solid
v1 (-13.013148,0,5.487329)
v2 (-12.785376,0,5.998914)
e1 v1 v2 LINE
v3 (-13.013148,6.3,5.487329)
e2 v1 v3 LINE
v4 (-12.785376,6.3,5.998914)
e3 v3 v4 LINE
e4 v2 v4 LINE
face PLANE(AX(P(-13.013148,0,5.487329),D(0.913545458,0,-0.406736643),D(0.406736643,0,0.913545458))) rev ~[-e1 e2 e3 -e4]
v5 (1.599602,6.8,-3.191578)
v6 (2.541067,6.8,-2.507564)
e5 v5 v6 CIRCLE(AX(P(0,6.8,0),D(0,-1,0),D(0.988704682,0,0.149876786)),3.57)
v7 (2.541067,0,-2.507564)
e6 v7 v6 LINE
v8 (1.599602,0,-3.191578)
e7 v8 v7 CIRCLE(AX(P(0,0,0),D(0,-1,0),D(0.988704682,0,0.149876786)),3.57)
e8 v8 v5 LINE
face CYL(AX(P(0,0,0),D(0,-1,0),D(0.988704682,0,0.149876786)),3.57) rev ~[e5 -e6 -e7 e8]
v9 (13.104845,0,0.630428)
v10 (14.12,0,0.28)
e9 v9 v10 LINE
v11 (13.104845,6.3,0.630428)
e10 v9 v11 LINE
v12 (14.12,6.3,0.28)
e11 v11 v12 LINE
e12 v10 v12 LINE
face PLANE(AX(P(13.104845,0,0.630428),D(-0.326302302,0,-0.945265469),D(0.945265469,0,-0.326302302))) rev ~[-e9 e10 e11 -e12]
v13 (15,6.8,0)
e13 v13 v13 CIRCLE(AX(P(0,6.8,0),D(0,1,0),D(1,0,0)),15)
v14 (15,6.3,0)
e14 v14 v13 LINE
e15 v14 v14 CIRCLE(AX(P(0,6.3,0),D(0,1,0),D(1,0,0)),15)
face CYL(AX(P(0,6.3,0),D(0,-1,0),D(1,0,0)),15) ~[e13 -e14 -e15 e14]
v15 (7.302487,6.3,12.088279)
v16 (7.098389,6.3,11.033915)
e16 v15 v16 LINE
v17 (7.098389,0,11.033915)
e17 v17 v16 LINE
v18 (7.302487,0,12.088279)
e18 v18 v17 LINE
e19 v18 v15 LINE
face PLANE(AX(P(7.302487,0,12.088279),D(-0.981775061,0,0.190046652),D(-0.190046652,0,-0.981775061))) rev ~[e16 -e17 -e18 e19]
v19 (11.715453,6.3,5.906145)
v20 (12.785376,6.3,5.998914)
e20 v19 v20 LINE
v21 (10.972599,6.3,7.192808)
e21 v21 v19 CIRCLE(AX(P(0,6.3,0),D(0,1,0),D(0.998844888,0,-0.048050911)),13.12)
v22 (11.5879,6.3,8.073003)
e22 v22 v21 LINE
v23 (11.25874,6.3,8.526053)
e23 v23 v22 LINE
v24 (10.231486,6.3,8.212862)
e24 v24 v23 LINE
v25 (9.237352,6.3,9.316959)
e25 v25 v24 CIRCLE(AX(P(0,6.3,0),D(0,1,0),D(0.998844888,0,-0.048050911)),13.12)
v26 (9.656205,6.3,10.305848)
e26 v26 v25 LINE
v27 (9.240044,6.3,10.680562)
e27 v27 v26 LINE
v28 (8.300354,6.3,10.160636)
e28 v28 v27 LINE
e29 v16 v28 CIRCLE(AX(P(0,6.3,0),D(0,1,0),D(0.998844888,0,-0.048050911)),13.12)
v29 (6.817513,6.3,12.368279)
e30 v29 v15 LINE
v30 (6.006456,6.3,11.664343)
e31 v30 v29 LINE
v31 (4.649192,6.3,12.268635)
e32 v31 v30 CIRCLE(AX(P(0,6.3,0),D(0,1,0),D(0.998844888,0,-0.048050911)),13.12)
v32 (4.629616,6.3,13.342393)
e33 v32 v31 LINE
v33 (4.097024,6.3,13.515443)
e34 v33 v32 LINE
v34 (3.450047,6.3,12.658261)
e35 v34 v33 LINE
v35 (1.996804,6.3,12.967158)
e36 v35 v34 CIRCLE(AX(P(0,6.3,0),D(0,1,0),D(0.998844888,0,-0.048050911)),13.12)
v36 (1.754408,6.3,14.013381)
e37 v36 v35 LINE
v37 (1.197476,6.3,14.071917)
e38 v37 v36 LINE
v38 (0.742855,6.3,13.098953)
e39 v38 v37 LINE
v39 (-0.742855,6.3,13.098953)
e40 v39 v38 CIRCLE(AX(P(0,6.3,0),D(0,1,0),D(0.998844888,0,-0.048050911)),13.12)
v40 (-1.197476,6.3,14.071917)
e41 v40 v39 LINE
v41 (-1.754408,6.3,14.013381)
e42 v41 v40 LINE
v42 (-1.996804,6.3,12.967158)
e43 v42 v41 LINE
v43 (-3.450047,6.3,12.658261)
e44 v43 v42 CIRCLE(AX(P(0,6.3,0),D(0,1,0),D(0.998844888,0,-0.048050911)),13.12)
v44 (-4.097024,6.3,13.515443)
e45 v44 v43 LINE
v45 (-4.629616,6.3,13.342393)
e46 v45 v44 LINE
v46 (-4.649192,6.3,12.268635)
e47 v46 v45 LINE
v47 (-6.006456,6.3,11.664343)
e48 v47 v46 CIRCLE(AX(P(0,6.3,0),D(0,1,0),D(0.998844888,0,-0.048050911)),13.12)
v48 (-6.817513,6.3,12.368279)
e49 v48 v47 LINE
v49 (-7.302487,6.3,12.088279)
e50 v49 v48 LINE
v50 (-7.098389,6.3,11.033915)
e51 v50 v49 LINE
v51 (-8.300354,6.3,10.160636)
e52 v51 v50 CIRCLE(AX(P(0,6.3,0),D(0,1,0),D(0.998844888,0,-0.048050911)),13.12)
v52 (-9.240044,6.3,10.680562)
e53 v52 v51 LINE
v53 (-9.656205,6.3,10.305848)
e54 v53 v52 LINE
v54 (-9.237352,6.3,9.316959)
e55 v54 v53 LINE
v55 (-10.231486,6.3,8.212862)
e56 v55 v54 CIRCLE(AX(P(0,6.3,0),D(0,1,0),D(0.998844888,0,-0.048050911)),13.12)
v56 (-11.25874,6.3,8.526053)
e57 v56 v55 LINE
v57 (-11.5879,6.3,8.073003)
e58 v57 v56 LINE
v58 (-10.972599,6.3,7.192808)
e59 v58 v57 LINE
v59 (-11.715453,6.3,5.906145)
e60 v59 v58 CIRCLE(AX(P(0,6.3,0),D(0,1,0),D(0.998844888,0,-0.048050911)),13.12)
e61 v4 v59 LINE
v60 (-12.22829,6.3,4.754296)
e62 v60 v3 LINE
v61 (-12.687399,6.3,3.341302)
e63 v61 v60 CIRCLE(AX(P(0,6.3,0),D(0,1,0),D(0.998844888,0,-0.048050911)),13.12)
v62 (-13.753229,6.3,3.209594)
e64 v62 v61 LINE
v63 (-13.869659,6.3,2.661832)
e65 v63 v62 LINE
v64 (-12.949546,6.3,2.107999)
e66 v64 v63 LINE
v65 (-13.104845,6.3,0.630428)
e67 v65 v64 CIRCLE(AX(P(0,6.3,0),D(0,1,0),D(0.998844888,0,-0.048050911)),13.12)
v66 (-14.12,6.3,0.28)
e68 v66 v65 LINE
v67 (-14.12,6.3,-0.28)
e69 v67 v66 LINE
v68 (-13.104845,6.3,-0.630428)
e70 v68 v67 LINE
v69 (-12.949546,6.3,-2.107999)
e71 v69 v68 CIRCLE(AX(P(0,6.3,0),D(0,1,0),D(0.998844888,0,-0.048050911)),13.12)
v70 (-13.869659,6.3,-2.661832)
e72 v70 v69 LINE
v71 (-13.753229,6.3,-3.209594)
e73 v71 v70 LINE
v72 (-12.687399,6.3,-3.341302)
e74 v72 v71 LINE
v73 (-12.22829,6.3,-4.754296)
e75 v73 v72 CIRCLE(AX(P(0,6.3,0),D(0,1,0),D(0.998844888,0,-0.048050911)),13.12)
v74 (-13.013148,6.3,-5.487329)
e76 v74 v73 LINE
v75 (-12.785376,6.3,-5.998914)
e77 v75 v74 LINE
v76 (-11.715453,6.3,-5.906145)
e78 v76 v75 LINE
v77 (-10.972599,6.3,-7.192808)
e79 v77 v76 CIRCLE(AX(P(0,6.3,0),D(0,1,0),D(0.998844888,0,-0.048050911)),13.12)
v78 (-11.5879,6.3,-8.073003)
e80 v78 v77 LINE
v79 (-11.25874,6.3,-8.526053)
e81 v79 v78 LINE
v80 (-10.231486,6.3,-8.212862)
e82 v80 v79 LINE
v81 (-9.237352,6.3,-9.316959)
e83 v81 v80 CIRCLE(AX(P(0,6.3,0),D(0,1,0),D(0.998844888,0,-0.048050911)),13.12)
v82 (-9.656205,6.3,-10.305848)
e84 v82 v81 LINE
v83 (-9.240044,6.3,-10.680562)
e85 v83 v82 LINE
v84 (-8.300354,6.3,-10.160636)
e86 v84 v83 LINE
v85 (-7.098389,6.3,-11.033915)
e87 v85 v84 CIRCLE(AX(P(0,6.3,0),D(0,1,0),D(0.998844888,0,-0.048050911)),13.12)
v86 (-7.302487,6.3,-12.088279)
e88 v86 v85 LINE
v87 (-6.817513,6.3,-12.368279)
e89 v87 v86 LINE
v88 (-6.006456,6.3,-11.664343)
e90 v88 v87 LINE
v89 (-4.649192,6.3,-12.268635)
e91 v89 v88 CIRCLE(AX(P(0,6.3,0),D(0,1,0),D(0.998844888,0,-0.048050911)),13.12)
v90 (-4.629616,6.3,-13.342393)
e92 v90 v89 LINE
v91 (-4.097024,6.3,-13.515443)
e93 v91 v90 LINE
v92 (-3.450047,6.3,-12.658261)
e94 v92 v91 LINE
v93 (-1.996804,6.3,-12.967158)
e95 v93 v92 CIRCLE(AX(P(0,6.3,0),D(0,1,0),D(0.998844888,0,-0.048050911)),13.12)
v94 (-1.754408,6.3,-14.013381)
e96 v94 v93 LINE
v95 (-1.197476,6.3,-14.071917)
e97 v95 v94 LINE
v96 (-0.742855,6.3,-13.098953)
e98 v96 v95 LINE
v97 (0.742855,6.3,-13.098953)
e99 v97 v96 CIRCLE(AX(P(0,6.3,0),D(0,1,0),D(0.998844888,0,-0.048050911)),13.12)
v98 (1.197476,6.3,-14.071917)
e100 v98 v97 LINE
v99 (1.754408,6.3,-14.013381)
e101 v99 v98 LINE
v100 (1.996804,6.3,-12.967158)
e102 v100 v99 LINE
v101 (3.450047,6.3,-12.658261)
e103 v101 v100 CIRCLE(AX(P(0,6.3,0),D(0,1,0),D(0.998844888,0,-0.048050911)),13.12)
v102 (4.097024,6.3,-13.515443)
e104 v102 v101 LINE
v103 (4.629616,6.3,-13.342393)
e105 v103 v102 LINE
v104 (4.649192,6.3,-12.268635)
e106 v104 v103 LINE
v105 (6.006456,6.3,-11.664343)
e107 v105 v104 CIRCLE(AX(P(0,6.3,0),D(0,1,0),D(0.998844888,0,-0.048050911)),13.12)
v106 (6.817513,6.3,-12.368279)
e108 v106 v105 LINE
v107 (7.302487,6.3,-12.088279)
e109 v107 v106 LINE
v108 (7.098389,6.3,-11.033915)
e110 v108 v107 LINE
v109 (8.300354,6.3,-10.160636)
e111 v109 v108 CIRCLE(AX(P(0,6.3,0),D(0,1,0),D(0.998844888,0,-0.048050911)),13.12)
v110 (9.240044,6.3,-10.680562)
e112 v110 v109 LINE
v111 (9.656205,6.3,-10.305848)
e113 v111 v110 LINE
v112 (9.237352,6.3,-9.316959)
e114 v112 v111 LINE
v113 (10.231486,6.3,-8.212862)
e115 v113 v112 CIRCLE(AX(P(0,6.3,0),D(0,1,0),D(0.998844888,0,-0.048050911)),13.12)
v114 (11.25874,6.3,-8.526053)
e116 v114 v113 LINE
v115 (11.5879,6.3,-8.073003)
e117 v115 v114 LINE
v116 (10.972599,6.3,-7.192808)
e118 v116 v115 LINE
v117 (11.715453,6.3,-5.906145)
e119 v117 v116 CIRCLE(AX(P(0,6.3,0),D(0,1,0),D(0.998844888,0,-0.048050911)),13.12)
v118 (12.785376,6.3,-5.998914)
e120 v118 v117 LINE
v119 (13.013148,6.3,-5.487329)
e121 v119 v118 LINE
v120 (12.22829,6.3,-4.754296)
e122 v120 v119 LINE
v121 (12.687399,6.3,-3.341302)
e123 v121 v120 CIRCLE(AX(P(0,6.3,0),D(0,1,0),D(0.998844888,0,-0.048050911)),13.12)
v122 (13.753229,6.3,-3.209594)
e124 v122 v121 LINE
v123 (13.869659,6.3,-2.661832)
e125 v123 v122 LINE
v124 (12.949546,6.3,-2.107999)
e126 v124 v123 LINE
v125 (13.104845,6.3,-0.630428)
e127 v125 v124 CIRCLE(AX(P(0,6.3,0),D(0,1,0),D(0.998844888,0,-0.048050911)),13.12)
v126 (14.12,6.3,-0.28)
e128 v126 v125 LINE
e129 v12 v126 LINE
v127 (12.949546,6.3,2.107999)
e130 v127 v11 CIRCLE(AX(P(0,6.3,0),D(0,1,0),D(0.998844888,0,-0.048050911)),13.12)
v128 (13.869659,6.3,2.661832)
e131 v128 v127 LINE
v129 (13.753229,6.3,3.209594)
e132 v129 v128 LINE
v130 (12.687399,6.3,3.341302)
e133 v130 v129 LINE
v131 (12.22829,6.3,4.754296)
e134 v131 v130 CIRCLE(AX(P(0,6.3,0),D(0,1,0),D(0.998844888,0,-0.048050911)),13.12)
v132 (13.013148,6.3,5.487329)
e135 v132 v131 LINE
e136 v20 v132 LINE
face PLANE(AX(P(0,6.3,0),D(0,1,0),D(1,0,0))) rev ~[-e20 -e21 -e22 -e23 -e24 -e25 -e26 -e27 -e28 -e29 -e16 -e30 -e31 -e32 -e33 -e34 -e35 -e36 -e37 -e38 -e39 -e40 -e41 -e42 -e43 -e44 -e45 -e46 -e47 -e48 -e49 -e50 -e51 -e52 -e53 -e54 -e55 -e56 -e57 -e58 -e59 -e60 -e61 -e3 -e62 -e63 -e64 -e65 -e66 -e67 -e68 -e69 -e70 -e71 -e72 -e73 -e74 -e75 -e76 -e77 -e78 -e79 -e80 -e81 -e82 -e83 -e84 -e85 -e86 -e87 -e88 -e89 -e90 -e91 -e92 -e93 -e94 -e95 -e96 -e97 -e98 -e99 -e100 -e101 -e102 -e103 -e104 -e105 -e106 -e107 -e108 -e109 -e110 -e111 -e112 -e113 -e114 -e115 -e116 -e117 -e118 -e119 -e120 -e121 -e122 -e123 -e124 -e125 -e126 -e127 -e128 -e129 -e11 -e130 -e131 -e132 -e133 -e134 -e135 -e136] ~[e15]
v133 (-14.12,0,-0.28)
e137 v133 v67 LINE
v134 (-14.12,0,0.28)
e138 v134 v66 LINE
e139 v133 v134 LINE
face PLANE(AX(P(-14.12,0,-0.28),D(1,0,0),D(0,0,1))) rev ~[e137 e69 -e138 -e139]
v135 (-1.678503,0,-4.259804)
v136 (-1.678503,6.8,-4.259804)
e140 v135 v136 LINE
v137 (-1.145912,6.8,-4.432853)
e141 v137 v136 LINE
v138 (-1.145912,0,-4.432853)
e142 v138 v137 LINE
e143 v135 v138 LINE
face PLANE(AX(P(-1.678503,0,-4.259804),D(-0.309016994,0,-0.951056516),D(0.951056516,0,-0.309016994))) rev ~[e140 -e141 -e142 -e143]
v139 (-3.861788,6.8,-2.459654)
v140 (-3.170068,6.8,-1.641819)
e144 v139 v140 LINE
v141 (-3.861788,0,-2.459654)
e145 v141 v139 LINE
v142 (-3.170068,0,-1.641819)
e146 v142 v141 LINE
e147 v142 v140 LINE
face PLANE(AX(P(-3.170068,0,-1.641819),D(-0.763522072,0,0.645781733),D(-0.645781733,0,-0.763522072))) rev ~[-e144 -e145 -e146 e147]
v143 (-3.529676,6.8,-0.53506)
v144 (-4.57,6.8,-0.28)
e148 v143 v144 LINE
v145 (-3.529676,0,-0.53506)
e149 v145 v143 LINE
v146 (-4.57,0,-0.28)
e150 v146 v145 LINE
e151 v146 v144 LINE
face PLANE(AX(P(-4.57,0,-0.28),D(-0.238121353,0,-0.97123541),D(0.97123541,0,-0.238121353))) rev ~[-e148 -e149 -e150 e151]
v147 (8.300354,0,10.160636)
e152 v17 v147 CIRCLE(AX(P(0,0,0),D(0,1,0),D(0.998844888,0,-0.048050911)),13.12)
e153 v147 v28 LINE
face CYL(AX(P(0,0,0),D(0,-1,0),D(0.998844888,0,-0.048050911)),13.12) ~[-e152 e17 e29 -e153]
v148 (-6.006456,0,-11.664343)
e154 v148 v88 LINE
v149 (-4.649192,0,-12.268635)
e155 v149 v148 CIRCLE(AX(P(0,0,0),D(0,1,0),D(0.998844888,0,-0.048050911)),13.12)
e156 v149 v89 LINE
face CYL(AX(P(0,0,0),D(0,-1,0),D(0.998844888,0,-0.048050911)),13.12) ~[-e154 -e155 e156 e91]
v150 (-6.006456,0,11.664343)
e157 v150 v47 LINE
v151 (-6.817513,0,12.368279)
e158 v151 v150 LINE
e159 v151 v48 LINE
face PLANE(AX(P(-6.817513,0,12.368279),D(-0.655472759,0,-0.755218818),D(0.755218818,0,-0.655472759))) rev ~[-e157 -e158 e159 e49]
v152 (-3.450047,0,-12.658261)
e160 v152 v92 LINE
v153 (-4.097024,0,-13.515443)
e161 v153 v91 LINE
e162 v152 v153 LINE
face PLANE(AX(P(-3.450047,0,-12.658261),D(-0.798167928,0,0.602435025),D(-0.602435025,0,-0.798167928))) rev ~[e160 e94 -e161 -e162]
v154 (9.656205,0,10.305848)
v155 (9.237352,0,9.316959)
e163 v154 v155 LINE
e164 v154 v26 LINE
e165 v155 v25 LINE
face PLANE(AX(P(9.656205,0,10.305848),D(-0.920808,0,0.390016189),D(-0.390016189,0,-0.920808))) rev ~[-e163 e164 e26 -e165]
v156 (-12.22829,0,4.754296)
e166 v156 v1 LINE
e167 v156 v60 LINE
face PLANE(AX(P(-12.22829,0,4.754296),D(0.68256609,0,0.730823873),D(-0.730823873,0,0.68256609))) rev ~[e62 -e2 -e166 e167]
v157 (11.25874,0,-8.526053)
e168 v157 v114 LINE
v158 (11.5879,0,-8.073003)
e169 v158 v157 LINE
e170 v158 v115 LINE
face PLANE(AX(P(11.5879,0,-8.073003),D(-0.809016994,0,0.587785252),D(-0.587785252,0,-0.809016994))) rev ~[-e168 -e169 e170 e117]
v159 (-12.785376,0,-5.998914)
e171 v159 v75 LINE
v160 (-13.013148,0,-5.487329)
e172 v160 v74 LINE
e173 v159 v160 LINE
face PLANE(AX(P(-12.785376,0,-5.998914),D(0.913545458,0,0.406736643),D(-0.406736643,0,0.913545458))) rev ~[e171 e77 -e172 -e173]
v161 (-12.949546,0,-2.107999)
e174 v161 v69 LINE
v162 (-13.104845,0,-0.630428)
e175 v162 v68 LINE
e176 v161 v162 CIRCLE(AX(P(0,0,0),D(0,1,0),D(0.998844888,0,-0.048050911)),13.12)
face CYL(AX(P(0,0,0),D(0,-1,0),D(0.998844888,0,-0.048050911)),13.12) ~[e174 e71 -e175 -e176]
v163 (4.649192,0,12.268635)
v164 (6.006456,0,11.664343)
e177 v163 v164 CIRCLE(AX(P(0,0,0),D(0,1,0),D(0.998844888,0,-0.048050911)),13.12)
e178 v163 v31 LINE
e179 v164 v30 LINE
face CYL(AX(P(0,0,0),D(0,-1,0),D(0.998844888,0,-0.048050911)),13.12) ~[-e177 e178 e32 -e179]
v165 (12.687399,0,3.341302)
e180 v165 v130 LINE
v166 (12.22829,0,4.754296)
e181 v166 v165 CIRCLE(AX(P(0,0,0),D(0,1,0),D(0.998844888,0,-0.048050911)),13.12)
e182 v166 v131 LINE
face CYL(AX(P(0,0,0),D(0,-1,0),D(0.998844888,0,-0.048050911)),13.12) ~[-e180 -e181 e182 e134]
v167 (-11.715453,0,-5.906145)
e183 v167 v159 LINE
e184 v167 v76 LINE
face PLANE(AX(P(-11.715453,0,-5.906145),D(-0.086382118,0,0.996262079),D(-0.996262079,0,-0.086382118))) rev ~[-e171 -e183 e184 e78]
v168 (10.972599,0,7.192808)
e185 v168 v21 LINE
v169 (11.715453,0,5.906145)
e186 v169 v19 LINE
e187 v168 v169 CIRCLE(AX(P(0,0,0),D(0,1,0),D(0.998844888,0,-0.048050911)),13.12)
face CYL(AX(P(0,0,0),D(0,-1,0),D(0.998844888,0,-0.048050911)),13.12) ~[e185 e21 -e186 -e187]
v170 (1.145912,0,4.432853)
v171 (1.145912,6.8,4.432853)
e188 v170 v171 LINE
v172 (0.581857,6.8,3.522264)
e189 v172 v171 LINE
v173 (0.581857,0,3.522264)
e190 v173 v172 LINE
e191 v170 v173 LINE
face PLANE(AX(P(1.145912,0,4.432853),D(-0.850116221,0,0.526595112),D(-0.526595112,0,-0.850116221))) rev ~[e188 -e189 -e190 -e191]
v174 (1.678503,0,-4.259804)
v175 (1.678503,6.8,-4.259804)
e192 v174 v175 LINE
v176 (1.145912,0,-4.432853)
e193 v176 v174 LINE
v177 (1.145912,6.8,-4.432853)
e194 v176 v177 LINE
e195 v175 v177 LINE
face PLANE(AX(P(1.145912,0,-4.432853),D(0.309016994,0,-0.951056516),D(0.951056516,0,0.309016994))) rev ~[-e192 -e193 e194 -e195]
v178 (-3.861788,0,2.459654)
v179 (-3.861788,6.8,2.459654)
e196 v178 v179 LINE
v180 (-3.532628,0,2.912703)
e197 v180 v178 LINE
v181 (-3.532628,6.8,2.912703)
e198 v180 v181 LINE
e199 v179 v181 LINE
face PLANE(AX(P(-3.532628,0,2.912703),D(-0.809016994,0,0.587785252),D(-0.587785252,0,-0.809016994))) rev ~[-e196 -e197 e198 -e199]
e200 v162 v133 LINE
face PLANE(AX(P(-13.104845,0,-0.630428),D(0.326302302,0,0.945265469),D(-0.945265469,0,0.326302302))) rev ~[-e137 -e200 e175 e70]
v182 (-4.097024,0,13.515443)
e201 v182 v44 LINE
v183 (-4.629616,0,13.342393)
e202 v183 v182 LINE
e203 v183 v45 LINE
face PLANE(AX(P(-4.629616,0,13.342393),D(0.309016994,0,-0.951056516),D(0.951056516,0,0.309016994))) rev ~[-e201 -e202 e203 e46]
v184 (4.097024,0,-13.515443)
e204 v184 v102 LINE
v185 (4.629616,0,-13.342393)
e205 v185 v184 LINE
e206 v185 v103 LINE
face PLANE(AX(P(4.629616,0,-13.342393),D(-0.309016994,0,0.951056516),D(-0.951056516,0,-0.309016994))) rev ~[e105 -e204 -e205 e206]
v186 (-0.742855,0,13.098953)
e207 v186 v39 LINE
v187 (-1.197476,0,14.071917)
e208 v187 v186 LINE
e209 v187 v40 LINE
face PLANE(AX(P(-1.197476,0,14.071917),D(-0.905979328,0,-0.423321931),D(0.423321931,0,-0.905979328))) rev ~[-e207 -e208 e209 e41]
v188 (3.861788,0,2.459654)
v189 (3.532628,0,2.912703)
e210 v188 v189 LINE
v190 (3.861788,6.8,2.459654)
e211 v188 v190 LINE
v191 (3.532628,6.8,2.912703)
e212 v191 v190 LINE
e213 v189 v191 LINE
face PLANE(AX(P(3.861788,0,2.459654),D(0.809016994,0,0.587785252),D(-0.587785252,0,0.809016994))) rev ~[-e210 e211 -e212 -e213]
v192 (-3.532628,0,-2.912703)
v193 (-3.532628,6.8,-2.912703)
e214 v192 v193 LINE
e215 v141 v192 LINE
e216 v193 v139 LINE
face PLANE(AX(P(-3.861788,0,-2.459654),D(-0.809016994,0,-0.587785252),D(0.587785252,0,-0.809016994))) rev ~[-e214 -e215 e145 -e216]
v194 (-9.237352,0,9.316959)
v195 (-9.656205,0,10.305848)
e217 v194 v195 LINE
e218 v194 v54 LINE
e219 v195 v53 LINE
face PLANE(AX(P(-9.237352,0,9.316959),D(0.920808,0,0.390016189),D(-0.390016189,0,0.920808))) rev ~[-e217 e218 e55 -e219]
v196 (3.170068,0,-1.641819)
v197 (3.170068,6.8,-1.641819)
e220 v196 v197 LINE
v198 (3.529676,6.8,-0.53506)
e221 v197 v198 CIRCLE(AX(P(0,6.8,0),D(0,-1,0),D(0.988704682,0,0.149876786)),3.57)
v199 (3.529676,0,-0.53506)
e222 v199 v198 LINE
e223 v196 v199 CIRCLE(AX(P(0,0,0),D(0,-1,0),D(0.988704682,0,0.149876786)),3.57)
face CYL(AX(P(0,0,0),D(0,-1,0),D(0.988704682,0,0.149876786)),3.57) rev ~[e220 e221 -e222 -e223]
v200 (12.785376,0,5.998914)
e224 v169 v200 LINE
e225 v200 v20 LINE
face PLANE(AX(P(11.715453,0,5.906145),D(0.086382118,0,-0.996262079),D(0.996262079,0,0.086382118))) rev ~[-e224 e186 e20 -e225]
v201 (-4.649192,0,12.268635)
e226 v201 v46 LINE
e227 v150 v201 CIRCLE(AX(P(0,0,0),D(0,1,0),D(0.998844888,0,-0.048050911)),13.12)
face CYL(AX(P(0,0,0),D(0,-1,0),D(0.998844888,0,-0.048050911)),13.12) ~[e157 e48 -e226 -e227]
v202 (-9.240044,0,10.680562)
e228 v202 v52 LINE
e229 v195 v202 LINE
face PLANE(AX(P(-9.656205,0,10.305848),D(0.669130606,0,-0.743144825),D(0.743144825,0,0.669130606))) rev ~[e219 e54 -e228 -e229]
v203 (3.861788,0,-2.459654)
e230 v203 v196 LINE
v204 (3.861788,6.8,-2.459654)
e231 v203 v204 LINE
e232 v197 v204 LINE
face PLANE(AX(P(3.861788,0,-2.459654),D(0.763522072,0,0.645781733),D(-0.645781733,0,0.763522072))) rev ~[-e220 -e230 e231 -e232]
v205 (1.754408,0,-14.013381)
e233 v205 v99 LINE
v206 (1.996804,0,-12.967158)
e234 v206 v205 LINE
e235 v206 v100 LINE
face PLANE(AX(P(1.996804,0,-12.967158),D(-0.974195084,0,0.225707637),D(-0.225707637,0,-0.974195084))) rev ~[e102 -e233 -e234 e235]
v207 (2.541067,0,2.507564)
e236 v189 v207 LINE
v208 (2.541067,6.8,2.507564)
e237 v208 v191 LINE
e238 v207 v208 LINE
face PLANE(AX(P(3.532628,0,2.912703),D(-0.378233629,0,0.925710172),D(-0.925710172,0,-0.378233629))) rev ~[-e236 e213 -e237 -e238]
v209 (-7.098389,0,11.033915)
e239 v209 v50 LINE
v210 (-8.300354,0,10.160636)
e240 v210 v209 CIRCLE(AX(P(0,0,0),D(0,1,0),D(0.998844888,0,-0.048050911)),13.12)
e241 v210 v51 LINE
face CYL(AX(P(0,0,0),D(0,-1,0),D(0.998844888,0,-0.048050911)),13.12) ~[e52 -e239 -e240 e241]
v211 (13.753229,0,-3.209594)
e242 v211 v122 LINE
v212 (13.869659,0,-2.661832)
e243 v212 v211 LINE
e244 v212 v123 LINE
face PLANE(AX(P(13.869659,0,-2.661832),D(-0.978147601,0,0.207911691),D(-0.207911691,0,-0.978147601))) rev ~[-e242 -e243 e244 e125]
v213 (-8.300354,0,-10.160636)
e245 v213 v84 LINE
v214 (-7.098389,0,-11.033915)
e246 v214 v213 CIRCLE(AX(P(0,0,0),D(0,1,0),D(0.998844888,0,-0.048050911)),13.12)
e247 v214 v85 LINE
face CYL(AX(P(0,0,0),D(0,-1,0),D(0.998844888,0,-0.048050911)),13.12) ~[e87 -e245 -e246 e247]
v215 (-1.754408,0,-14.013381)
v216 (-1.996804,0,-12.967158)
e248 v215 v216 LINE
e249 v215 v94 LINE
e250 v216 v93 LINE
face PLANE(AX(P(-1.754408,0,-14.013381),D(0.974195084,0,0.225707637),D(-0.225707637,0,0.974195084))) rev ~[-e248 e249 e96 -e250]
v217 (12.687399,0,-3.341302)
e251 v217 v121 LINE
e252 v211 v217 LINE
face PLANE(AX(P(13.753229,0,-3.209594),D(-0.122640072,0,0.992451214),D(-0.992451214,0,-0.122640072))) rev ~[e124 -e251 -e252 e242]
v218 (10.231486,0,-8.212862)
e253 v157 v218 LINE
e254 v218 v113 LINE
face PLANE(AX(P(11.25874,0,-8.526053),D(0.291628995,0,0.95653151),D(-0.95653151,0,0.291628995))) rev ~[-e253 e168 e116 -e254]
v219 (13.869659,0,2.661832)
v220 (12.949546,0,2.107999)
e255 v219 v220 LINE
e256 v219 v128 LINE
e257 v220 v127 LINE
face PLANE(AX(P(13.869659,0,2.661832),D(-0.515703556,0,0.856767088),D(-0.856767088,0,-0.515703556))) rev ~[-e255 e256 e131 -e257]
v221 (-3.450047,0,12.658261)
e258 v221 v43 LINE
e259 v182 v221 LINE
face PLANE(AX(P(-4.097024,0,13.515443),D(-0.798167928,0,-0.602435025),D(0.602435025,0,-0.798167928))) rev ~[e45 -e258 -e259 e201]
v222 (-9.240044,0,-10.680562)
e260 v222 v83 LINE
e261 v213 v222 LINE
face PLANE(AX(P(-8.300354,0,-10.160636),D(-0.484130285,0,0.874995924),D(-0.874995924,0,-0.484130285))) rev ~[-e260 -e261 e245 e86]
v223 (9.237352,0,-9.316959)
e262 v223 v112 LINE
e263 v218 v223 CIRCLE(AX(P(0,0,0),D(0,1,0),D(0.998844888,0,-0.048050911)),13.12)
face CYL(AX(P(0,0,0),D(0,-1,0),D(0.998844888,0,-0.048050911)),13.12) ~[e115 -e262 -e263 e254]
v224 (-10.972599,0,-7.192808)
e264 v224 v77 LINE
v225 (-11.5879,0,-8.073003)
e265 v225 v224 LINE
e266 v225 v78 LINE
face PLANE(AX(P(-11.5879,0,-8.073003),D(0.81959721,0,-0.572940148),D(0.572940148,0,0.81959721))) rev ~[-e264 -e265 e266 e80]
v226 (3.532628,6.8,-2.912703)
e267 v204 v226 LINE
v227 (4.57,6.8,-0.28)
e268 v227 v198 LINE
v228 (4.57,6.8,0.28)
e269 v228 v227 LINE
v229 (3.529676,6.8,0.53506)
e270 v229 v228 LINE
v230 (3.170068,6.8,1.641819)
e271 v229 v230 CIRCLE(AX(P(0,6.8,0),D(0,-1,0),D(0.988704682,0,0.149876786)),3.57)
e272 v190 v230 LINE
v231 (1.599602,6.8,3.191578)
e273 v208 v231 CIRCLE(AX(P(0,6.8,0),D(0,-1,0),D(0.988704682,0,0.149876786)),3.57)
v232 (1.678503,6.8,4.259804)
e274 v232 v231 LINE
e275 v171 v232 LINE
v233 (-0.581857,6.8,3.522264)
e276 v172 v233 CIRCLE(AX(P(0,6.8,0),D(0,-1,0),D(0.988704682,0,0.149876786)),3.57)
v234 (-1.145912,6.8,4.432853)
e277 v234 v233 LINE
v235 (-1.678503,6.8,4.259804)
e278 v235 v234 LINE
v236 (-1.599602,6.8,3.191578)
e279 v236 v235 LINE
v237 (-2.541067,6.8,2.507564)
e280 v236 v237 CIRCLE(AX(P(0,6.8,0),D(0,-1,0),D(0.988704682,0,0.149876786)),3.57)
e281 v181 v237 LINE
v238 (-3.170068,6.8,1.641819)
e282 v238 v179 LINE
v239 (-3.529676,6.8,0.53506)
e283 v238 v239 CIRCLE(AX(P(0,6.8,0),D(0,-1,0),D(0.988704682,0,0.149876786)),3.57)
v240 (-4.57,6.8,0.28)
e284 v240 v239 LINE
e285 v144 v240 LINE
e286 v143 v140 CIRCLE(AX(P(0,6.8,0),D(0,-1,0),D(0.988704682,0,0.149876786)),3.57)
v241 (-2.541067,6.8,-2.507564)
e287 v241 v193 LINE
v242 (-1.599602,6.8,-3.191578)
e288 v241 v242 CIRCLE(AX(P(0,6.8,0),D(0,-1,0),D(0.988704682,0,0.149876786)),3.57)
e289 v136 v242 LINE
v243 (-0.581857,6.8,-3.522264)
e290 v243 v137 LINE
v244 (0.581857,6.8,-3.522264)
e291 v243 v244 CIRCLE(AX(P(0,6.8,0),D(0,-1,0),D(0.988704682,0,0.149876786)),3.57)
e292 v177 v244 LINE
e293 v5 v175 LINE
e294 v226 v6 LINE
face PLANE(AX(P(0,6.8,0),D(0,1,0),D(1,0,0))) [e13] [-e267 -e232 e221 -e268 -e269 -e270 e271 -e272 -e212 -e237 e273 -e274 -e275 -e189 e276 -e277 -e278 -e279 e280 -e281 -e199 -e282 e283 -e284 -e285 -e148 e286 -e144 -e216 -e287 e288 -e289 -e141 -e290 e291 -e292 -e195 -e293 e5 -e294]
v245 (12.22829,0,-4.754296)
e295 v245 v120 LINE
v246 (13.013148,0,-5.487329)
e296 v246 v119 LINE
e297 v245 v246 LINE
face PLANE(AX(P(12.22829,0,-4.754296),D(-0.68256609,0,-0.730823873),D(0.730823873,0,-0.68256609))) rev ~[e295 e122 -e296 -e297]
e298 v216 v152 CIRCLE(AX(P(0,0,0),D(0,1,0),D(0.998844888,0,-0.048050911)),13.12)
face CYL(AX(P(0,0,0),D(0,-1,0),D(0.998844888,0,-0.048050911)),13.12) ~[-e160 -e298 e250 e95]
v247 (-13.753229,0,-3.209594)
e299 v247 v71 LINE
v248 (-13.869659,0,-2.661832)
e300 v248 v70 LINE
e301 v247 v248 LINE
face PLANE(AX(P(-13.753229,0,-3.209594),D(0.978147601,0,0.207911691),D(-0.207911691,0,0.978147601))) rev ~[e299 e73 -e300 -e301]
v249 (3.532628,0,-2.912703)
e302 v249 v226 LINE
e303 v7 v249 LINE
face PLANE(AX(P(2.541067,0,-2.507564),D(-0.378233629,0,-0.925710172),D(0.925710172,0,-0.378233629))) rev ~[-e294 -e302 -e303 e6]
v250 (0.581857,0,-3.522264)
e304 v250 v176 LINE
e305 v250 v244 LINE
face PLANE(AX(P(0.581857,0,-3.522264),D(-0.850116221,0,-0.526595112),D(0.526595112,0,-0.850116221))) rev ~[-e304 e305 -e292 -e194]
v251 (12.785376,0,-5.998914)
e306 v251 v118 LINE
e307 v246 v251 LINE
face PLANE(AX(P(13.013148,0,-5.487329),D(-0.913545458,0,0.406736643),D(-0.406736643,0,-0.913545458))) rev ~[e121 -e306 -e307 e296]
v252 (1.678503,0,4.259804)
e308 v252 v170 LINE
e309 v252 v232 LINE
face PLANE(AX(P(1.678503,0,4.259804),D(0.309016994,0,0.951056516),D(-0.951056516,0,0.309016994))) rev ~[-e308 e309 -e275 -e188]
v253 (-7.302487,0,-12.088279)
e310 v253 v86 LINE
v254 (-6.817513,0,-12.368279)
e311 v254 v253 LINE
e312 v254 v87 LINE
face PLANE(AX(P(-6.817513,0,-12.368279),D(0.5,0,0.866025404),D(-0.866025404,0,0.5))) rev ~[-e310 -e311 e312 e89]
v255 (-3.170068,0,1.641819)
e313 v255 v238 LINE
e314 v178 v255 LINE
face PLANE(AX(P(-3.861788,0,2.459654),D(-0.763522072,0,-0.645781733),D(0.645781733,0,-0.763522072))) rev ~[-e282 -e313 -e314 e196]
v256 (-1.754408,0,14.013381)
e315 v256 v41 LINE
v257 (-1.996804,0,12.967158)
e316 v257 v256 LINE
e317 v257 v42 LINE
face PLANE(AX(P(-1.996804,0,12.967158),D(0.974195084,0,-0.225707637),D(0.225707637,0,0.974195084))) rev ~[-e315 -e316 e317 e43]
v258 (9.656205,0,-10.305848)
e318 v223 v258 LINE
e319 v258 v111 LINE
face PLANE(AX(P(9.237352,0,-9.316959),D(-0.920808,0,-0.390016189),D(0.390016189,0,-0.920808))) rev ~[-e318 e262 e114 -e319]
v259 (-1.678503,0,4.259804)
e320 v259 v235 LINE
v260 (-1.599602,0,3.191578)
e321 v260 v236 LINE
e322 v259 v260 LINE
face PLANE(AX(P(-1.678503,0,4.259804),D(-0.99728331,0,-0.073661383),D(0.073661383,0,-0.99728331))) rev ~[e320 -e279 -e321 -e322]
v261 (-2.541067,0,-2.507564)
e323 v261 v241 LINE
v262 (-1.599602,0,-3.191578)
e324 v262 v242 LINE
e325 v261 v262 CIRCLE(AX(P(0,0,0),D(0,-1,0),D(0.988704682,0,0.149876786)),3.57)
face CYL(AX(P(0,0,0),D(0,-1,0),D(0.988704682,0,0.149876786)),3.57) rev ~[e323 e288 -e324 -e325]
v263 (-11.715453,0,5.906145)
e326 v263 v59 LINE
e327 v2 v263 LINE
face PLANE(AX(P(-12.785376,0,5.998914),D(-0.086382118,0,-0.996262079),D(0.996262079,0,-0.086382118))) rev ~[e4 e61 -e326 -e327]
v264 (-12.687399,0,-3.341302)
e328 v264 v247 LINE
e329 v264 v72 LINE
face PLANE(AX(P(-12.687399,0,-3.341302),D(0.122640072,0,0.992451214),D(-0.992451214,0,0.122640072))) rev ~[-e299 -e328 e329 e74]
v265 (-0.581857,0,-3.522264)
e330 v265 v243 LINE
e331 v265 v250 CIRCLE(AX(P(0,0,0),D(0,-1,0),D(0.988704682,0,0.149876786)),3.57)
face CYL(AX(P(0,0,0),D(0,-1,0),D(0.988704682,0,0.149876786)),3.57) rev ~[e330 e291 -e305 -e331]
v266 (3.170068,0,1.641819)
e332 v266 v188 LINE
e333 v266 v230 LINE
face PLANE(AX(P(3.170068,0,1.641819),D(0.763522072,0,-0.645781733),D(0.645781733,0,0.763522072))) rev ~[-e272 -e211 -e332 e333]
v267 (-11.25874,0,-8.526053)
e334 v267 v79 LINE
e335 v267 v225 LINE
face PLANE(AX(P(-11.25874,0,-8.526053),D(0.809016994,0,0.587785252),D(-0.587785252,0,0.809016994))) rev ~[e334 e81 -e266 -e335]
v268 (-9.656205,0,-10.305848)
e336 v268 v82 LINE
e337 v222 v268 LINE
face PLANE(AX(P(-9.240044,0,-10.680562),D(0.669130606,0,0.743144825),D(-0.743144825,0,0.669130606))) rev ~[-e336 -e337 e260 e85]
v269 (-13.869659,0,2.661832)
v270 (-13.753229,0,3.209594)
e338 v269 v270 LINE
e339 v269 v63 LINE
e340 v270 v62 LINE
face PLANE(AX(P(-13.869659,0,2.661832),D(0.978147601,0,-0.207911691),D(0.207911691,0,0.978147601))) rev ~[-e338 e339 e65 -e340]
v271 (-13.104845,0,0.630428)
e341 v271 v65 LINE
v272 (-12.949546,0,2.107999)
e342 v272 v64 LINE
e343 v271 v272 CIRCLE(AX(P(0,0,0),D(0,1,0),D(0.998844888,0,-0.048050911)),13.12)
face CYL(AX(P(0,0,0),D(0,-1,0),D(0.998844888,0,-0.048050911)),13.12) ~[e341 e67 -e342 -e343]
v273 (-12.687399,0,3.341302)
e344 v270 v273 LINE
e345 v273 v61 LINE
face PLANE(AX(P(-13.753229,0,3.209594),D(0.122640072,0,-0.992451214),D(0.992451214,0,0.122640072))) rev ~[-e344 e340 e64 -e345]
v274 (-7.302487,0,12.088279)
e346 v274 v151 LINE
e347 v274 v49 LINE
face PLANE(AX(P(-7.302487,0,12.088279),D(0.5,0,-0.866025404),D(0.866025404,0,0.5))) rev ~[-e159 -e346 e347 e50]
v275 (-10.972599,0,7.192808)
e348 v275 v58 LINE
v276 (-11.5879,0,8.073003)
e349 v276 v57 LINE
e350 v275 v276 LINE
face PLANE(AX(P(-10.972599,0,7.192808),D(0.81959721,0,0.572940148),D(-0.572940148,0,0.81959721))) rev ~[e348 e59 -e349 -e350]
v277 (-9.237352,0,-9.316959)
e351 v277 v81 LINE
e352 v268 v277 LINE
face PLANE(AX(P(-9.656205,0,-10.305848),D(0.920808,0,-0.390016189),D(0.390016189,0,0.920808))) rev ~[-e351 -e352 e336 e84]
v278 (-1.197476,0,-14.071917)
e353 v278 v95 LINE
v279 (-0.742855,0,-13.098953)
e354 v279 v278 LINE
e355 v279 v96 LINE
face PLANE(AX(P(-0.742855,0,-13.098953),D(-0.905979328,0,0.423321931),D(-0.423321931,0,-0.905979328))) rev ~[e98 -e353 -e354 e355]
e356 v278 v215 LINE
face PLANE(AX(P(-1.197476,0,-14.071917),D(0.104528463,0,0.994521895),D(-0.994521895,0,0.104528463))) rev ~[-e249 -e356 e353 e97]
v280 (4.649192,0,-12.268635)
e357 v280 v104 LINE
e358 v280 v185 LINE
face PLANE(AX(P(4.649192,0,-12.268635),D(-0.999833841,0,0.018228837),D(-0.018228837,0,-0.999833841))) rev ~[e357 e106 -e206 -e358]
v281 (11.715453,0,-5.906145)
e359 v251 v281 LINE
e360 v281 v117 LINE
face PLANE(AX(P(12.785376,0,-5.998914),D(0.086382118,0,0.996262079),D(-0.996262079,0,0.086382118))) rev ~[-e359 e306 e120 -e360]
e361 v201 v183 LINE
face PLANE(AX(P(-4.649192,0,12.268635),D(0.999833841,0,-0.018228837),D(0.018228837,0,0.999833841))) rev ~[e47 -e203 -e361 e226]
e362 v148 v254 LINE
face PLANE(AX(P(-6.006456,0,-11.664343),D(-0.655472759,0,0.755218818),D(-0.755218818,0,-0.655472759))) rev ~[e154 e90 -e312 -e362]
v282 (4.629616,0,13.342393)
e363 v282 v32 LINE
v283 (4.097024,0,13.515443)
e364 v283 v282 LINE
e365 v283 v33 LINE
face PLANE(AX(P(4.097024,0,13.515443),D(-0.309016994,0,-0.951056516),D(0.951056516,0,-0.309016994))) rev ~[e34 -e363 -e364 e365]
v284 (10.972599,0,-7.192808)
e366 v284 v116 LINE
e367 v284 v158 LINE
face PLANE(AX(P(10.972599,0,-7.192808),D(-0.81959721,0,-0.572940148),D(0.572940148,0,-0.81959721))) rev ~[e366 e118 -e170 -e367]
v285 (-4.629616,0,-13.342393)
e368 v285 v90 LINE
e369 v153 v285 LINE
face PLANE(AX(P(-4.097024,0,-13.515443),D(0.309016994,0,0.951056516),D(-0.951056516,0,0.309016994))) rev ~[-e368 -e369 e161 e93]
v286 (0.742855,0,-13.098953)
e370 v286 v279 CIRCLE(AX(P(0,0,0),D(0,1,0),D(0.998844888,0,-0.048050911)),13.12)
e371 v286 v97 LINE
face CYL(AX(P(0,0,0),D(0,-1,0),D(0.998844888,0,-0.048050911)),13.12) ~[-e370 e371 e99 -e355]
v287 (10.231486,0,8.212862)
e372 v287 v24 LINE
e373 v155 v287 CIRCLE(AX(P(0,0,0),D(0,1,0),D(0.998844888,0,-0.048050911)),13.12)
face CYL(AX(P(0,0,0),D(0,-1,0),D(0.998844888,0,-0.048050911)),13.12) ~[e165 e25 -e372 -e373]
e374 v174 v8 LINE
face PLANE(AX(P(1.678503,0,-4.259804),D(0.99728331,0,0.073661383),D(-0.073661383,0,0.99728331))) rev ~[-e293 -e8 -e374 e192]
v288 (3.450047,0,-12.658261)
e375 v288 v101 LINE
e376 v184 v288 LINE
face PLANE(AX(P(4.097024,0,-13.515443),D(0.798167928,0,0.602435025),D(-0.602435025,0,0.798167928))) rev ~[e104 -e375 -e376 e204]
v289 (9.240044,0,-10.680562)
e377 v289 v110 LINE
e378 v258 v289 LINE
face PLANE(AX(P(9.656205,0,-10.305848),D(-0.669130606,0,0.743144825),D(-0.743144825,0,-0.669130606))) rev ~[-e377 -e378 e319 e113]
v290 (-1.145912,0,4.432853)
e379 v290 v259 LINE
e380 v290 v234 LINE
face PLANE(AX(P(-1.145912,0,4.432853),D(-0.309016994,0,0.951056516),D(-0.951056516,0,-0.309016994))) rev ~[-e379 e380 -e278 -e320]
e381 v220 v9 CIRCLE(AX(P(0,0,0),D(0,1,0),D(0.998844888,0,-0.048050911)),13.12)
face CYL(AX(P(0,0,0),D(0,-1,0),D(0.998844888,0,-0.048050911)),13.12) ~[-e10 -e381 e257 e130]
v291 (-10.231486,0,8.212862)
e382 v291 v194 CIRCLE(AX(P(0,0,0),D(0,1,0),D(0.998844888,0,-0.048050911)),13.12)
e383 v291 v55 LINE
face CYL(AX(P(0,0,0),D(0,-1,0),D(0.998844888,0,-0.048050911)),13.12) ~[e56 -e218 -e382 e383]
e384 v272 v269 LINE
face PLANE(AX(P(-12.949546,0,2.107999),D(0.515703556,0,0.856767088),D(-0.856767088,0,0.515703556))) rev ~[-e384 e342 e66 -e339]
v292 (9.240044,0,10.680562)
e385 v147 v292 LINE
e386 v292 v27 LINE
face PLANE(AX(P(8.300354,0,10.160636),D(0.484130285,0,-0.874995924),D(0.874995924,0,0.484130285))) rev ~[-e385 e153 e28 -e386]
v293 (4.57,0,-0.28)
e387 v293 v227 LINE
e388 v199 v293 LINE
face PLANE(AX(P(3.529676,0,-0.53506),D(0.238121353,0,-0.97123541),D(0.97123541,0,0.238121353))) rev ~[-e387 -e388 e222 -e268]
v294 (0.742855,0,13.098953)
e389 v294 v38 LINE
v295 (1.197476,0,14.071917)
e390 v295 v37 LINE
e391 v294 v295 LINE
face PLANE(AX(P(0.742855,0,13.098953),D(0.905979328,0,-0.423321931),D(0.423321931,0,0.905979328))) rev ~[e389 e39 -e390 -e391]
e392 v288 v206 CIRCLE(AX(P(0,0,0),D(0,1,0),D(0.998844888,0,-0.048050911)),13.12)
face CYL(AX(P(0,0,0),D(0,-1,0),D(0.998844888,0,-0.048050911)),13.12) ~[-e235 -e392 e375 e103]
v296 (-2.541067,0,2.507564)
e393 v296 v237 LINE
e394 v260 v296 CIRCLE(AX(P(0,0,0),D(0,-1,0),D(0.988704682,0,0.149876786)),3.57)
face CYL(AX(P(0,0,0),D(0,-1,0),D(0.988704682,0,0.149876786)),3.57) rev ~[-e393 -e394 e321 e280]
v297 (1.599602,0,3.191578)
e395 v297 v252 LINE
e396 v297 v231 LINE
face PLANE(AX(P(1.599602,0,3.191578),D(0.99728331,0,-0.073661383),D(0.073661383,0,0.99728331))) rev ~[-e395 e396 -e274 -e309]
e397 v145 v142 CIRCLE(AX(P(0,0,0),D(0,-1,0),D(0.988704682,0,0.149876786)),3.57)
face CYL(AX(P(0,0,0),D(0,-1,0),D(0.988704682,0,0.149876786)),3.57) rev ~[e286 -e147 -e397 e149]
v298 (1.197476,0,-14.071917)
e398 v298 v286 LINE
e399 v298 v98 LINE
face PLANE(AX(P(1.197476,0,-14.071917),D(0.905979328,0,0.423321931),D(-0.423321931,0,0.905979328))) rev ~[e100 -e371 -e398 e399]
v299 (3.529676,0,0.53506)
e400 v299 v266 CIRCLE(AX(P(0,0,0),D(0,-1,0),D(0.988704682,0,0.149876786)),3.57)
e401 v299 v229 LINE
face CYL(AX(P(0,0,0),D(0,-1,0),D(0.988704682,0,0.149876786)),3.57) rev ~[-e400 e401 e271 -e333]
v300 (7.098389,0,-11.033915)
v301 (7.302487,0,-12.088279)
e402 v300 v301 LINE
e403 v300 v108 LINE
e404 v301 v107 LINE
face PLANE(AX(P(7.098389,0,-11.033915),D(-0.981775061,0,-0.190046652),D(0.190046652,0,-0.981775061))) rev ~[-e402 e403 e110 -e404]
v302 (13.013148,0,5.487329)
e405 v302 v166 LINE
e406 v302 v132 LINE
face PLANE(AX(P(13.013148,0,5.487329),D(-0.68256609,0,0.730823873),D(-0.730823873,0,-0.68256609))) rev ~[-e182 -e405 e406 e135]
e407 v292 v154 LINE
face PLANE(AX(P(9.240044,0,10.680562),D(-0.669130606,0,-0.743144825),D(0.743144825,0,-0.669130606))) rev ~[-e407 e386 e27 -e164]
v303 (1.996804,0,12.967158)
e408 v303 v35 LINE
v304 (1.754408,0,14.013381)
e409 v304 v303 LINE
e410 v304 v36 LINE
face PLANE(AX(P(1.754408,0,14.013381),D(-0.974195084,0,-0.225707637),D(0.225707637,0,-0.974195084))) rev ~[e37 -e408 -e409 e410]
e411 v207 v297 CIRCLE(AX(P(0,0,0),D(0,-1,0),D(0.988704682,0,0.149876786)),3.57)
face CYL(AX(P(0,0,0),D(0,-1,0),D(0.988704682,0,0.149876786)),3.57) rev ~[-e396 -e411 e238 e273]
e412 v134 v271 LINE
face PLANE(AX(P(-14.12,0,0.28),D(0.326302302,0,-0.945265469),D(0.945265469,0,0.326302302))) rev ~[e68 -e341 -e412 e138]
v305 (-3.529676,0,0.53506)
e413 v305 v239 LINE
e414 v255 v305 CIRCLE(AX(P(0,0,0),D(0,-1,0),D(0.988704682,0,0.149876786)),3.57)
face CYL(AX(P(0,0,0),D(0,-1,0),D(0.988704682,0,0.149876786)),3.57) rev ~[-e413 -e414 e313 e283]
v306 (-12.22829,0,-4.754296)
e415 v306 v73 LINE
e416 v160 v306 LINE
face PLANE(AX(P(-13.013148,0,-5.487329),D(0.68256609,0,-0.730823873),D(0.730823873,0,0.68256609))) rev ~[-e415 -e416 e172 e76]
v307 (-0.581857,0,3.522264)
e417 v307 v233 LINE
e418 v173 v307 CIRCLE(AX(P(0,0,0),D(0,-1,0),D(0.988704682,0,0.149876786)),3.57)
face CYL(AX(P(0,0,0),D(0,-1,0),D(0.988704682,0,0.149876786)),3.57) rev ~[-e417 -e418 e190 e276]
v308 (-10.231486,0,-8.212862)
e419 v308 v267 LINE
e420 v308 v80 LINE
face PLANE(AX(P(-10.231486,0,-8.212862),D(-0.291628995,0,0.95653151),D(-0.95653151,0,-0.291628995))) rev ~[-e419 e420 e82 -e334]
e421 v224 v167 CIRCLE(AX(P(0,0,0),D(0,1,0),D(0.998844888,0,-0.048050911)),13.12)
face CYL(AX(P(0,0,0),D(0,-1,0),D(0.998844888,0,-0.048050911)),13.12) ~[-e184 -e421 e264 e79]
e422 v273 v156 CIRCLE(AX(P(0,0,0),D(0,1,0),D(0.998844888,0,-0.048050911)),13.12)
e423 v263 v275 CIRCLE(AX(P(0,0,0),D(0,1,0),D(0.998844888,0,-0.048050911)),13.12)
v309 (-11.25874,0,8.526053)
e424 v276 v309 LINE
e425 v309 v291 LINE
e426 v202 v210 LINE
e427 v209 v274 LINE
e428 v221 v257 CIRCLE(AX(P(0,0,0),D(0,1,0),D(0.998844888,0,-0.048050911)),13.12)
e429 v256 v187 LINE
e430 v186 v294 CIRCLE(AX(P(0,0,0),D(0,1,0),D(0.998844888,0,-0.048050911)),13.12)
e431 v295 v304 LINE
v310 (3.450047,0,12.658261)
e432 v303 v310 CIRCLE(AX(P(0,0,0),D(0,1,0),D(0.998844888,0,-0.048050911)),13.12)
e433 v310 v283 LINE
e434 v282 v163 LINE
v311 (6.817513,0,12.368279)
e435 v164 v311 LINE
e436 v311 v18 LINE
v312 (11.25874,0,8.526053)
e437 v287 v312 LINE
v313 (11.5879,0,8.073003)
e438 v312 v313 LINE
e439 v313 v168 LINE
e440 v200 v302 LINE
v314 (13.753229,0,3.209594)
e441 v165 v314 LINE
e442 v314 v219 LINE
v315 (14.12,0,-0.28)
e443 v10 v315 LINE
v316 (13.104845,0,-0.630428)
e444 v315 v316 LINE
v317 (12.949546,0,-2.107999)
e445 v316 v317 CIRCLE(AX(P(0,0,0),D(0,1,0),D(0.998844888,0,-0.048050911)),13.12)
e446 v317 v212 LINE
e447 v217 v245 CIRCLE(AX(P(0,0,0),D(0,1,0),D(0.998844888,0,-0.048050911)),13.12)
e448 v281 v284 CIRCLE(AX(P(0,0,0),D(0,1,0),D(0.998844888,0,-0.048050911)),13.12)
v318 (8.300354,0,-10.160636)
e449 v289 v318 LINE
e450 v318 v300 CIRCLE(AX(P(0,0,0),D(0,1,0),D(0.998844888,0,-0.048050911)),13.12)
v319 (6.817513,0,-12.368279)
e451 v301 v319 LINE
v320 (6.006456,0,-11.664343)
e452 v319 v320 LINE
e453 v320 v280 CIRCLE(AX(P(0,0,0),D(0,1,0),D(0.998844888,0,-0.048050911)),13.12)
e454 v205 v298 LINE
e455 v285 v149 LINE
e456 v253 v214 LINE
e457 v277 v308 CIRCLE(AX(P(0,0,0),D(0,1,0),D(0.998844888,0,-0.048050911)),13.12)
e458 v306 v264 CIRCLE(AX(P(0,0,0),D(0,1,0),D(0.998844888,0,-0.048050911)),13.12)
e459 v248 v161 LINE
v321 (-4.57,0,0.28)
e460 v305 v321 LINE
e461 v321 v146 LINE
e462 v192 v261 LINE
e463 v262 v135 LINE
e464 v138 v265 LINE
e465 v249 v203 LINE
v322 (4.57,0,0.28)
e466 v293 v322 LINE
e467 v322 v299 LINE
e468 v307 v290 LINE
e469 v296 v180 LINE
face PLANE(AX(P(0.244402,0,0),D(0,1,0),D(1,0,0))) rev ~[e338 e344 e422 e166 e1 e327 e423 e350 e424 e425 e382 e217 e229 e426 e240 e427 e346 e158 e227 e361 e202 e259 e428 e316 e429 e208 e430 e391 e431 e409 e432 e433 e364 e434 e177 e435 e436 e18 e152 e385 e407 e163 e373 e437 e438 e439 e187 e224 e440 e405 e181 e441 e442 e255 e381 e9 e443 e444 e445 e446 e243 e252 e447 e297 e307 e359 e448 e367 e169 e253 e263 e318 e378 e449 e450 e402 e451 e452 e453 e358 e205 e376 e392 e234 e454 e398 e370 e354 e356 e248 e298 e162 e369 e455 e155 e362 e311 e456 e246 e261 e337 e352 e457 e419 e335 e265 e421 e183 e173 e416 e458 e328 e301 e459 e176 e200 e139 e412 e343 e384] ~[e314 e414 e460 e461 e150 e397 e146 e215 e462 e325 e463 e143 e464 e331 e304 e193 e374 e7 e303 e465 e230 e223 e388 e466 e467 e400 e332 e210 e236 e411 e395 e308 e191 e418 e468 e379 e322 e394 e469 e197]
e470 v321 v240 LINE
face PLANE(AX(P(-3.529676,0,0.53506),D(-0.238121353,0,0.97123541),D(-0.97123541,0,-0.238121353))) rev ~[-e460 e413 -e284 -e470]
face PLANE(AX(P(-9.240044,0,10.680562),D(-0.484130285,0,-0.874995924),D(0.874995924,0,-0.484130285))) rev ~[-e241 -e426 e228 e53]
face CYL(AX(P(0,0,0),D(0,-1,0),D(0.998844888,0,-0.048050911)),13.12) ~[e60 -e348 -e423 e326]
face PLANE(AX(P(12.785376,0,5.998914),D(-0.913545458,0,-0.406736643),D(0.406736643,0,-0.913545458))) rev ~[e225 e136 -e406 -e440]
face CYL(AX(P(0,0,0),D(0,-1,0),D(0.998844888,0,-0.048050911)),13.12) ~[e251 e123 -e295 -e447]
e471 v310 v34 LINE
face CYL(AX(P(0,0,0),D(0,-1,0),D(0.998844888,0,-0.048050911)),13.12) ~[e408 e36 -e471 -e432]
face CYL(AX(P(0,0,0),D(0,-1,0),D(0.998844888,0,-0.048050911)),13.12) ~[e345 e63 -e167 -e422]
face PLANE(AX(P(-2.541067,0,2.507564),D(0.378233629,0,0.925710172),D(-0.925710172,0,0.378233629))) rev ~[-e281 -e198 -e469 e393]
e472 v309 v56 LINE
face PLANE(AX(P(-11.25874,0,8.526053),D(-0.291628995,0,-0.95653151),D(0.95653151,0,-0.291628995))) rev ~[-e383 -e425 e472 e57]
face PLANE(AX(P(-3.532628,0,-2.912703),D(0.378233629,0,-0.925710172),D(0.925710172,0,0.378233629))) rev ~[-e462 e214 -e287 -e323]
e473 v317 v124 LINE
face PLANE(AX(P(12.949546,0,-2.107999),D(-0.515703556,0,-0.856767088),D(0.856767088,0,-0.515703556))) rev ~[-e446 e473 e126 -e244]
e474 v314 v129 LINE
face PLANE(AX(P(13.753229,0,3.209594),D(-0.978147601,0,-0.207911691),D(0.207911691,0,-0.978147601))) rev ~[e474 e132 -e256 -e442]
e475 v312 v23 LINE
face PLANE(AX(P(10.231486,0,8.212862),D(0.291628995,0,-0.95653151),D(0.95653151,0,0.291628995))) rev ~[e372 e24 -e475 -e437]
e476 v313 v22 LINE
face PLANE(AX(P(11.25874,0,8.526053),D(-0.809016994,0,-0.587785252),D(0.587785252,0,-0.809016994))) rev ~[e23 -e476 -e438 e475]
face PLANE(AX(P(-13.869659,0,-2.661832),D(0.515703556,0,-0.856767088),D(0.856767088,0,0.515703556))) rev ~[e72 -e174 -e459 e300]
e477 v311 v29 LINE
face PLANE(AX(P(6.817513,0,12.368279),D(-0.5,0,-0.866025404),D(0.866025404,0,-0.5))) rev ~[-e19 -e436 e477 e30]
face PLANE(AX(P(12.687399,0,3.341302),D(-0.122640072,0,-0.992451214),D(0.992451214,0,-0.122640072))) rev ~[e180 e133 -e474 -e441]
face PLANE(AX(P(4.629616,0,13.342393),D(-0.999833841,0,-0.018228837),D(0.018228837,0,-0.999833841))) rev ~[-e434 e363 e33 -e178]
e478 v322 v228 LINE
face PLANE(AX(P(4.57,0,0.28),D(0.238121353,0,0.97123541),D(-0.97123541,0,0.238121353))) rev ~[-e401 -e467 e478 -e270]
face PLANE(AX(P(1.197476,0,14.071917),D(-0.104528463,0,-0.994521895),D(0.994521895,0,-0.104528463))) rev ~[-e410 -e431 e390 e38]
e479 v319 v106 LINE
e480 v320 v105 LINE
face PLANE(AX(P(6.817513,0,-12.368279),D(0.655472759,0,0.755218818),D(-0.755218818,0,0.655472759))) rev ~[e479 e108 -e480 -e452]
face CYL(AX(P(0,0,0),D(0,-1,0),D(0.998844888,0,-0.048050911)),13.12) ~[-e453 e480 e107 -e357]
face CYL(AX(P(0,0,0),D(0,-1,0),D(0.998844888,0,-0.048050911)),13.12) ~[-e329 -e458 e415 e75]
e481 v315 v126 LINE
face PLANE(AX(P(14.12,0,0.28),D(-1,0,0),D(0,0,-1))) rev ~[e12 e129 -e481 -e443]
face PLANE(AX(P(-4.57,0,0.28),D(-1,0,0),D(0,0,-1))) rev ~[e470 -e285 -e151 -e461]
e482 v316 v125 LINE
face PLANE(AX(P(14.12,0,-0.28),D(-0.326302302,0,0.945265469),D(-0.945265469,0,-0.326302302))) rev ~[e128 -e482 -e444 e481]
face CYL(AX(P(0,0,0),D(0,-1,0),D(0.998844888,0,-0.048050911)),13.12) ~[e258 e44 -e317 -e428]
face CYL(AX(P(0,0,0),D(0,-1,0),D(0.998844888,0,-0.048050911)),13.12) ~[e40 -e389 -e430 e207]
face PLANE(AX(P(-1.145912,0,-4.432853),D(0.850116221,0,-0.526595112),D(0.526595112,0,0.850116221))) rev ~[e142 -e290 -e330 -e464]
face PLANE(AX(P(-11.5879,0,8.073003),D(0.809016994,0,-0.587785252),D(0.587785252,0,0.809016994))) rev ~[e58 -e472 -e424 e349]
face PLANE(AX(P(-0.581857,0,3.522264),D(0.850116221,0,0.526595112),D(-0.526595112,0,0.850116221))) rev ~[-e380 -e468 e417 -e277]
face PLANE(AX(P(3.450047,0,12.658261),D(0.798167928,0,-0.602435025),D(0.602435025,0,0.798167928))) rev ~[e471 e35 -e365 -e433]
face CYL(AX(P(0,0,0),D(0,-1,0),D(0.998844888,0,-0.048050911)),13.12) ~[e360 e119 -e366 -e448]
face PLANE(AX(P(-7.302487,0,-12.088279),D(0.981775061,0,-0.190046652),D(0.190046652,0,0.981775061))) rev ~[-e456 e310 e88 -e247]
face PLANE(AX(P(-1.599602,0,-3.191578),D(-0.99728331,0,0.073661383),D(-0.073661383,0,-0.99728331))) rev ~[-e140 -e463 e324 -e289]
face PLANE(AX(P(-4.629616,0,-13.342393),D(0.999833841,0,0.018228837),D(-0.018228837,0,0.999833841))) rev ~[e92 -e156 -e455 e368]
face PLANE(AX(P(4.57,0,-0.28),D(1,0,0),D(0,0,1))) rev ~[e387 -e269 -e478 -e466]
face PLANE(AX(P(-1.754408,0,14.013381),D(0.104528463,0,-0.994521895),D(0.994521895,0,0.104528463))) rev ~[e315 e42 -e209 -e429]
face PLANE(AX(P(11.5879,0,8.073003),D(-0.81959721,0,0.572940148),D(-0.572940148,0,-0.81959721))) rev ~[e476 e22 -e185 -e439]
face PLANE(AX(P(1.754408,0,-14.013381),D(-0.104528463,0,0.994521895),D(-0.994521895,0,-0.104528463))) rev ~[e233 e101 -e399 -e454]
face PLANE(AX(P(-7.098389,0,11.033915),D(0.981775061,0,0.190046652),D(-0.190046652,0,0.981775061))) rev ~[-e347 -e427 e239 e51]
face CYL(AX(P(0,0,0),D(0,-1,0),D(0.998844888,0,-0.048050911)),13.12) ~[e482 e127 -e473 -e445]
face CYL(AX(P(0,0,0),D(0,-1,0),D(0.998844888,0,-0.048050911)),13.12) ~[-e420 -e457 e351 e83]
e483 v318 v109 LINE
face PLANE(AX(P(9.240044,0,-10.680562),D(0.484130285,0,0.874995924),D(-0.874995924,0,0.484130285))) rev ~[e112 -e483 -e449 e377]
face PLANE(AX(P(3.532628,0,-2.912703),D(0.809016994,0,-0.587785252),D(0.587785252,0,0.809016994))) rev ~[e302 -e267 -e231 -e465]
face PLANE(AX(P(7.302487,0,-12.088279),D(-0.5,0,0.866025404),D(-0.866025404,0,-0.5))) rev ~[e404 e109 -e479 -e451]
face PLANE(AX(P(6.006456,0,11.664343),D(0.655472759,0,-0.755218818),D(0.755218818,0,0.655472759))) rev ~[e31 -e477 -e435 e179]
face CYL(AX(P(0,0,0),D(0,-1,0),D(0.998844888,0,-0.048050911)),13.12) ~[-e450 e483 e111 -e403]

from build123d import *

# Parameters (mm, degrees)
BOSS_EXTRUDE1_DEPTH = 6.3
CIRPATTERN1_COUNT   = 30
SKETCH2_R           = 15
BOSS_EXTRUDE2_DEPTH = 0.5
CUT_EXTRUDE2_DEPTH  = 7.8
CIRPATTERN2_COUNT   = 10


with BuildPart() as part:
    # Sketch1 → Boss-Extrude1 (new body)
    with BuildSketch(Plane(origin=(0, 0, 0), x_dir=(1, 0, 0), z_dir=(0, 1, 0))):
        with BuildLine():
            ThreePointArc((13.104844929, 0.630427946), (-13.12, 0), (13.104844929, -0.630427946))
            Line((13.104844929, -0.630427946), (12.849932635, -0.718422769))
            ThreePointArc((12.849932635, -0.718422769), (12.87, 0), (12.849932635, 0.718422769))
            Line((12.849932635, 0.718422769), (13.104844929, 0.630427946))
        make_face()
        with BuildLine():
            Line((12.849932635, -0.718422769), (13.104844929, -0.630427946))
            ThreePointArc((13.104844929, -0.630427946), (13.116210685, -0.315305039), (13.12, 0))
            ThreePointArc((13.12, 0), (13.116210685, 0.315305039), (13.104844929, 0.630427946))
            Line((13.104844929, 0.630427946), (12.849932635, 0.718422769))
            ThreePointArc((12.849932635, 0.718422769), (12.87, 0), (12.849932635, -0.718422769))
        make_face()
        with BuildLine():
            Line((14.12, -0.28), (14.12, 0))
            Line((14.12, 0), (14.12, 0.28))
            Line((14.12, 0.28), (13.104844929, 0.630427946))
            ThreePointArc((13.104844929, 0.630427946), (13.116210685, 0.315305039), (13.12, 0))
            ThreePointArc((13.12, 0), (13.116210685, -0.315305039), (13.104844929, -0.630427946))
            Line((13.104844929, -0.630427946), (14.12, -0.28))
        make_face()
    boss_extrude1 = extrude(amount=BOSS_EXTRUDE1_DEPTH)

    # CirPattern1: Boss-Extrude1 ×30 about axis
    cirpattern1_axis = Axis((0, 0, 0), (0, 1, 0))
    for i in range(1, CIRPATTERN1_COUNT):
        add(boss_extrude1.rotate(cirpattern1_axis, i * 360 / CIRPATTERN1_COUNT))

    # Sketch2 → Boss-Extrude2 (add)
    with BuildSketch(Plane(origin=(0, 6.3, 0), x_dir=(1, 0, 0), z_dir=(0, 1, 0))):
        Circle(SKETCH2_R)
    extrude(amount=BOSS_EXTRUDE2_DEPTH)

    # Sketch5 → Cut-Extrude2 (cut, through all)
    with BuildSketch(Plane.XZ):
        with BuildLine():
            ThreePointArc((3.529675716, 0.535060126), (-3.57, 0), (3.529675716, -0.535060126))
            Line((3.529675716, -0.535060126), (3.265358075, -0.599863853))
            ThreePointArc((3.265358075, -0.599863853), (3.32, 0), (3.265358075, 0.599863853))
            Line((3.265358075, 0.599863853), (3.529675716, 0.535060126))
        make_face()
        with BuildLine():
            Line((3.265358075, -0.599863853), (3.529675716, -0.535060126))
            ThreePointArc((3.529675716, -0.535060126), (3.559904655, -0.268288737), (3.57, 0))
            ThreePointArc((3.57, 0), (3.559904655, 0.268288737), (3.529675716, 0.535060126))
            Line((3.529675716, 0.535060126), (3.265358075, 0.599863853))
            ThreePointArc((3.265358075, 0.599863853), (3.32, 0), (3.265358075, -0.599863853))
        make_face()
        with BuildLine():
            Line((4.57, -0.28), (4.57, 0))
            Line((4.57, 0), (4.57, 0.28))
            Line((4.57, 0.28), (3.529675716, 0.535060126))
            ThreePointArc((3.529675716, 0.535060126), (3.559904655, 0.268288737), (3.57, 0))
            ThreePointArc((3.57, 0), (3.559904655, -0.268288737), (3.529675716, -0.535060126))
            Line((3.529675716, -0.535060126), (4.57, -0.28))
        make_face()
    cut_extrude2 = extrude(amount=-CUT_EXTRUDE2_DEPTH, mode=Mode.SUBTRACT)

    # CirPattern2: Cut-Extrude2 ×10 about axis
    cirpattern2_axis = Axis((0, 0, 0), (0, 1, 0))
    for i in range(1, CIRPATTERN2_COUNT):
        add(cut_extrude2.rotate(cirpattern2_axis, i * 360 / CIRPATTERN2_COUNT), mode=Mode.SUBTRACT)


solid = part.part
